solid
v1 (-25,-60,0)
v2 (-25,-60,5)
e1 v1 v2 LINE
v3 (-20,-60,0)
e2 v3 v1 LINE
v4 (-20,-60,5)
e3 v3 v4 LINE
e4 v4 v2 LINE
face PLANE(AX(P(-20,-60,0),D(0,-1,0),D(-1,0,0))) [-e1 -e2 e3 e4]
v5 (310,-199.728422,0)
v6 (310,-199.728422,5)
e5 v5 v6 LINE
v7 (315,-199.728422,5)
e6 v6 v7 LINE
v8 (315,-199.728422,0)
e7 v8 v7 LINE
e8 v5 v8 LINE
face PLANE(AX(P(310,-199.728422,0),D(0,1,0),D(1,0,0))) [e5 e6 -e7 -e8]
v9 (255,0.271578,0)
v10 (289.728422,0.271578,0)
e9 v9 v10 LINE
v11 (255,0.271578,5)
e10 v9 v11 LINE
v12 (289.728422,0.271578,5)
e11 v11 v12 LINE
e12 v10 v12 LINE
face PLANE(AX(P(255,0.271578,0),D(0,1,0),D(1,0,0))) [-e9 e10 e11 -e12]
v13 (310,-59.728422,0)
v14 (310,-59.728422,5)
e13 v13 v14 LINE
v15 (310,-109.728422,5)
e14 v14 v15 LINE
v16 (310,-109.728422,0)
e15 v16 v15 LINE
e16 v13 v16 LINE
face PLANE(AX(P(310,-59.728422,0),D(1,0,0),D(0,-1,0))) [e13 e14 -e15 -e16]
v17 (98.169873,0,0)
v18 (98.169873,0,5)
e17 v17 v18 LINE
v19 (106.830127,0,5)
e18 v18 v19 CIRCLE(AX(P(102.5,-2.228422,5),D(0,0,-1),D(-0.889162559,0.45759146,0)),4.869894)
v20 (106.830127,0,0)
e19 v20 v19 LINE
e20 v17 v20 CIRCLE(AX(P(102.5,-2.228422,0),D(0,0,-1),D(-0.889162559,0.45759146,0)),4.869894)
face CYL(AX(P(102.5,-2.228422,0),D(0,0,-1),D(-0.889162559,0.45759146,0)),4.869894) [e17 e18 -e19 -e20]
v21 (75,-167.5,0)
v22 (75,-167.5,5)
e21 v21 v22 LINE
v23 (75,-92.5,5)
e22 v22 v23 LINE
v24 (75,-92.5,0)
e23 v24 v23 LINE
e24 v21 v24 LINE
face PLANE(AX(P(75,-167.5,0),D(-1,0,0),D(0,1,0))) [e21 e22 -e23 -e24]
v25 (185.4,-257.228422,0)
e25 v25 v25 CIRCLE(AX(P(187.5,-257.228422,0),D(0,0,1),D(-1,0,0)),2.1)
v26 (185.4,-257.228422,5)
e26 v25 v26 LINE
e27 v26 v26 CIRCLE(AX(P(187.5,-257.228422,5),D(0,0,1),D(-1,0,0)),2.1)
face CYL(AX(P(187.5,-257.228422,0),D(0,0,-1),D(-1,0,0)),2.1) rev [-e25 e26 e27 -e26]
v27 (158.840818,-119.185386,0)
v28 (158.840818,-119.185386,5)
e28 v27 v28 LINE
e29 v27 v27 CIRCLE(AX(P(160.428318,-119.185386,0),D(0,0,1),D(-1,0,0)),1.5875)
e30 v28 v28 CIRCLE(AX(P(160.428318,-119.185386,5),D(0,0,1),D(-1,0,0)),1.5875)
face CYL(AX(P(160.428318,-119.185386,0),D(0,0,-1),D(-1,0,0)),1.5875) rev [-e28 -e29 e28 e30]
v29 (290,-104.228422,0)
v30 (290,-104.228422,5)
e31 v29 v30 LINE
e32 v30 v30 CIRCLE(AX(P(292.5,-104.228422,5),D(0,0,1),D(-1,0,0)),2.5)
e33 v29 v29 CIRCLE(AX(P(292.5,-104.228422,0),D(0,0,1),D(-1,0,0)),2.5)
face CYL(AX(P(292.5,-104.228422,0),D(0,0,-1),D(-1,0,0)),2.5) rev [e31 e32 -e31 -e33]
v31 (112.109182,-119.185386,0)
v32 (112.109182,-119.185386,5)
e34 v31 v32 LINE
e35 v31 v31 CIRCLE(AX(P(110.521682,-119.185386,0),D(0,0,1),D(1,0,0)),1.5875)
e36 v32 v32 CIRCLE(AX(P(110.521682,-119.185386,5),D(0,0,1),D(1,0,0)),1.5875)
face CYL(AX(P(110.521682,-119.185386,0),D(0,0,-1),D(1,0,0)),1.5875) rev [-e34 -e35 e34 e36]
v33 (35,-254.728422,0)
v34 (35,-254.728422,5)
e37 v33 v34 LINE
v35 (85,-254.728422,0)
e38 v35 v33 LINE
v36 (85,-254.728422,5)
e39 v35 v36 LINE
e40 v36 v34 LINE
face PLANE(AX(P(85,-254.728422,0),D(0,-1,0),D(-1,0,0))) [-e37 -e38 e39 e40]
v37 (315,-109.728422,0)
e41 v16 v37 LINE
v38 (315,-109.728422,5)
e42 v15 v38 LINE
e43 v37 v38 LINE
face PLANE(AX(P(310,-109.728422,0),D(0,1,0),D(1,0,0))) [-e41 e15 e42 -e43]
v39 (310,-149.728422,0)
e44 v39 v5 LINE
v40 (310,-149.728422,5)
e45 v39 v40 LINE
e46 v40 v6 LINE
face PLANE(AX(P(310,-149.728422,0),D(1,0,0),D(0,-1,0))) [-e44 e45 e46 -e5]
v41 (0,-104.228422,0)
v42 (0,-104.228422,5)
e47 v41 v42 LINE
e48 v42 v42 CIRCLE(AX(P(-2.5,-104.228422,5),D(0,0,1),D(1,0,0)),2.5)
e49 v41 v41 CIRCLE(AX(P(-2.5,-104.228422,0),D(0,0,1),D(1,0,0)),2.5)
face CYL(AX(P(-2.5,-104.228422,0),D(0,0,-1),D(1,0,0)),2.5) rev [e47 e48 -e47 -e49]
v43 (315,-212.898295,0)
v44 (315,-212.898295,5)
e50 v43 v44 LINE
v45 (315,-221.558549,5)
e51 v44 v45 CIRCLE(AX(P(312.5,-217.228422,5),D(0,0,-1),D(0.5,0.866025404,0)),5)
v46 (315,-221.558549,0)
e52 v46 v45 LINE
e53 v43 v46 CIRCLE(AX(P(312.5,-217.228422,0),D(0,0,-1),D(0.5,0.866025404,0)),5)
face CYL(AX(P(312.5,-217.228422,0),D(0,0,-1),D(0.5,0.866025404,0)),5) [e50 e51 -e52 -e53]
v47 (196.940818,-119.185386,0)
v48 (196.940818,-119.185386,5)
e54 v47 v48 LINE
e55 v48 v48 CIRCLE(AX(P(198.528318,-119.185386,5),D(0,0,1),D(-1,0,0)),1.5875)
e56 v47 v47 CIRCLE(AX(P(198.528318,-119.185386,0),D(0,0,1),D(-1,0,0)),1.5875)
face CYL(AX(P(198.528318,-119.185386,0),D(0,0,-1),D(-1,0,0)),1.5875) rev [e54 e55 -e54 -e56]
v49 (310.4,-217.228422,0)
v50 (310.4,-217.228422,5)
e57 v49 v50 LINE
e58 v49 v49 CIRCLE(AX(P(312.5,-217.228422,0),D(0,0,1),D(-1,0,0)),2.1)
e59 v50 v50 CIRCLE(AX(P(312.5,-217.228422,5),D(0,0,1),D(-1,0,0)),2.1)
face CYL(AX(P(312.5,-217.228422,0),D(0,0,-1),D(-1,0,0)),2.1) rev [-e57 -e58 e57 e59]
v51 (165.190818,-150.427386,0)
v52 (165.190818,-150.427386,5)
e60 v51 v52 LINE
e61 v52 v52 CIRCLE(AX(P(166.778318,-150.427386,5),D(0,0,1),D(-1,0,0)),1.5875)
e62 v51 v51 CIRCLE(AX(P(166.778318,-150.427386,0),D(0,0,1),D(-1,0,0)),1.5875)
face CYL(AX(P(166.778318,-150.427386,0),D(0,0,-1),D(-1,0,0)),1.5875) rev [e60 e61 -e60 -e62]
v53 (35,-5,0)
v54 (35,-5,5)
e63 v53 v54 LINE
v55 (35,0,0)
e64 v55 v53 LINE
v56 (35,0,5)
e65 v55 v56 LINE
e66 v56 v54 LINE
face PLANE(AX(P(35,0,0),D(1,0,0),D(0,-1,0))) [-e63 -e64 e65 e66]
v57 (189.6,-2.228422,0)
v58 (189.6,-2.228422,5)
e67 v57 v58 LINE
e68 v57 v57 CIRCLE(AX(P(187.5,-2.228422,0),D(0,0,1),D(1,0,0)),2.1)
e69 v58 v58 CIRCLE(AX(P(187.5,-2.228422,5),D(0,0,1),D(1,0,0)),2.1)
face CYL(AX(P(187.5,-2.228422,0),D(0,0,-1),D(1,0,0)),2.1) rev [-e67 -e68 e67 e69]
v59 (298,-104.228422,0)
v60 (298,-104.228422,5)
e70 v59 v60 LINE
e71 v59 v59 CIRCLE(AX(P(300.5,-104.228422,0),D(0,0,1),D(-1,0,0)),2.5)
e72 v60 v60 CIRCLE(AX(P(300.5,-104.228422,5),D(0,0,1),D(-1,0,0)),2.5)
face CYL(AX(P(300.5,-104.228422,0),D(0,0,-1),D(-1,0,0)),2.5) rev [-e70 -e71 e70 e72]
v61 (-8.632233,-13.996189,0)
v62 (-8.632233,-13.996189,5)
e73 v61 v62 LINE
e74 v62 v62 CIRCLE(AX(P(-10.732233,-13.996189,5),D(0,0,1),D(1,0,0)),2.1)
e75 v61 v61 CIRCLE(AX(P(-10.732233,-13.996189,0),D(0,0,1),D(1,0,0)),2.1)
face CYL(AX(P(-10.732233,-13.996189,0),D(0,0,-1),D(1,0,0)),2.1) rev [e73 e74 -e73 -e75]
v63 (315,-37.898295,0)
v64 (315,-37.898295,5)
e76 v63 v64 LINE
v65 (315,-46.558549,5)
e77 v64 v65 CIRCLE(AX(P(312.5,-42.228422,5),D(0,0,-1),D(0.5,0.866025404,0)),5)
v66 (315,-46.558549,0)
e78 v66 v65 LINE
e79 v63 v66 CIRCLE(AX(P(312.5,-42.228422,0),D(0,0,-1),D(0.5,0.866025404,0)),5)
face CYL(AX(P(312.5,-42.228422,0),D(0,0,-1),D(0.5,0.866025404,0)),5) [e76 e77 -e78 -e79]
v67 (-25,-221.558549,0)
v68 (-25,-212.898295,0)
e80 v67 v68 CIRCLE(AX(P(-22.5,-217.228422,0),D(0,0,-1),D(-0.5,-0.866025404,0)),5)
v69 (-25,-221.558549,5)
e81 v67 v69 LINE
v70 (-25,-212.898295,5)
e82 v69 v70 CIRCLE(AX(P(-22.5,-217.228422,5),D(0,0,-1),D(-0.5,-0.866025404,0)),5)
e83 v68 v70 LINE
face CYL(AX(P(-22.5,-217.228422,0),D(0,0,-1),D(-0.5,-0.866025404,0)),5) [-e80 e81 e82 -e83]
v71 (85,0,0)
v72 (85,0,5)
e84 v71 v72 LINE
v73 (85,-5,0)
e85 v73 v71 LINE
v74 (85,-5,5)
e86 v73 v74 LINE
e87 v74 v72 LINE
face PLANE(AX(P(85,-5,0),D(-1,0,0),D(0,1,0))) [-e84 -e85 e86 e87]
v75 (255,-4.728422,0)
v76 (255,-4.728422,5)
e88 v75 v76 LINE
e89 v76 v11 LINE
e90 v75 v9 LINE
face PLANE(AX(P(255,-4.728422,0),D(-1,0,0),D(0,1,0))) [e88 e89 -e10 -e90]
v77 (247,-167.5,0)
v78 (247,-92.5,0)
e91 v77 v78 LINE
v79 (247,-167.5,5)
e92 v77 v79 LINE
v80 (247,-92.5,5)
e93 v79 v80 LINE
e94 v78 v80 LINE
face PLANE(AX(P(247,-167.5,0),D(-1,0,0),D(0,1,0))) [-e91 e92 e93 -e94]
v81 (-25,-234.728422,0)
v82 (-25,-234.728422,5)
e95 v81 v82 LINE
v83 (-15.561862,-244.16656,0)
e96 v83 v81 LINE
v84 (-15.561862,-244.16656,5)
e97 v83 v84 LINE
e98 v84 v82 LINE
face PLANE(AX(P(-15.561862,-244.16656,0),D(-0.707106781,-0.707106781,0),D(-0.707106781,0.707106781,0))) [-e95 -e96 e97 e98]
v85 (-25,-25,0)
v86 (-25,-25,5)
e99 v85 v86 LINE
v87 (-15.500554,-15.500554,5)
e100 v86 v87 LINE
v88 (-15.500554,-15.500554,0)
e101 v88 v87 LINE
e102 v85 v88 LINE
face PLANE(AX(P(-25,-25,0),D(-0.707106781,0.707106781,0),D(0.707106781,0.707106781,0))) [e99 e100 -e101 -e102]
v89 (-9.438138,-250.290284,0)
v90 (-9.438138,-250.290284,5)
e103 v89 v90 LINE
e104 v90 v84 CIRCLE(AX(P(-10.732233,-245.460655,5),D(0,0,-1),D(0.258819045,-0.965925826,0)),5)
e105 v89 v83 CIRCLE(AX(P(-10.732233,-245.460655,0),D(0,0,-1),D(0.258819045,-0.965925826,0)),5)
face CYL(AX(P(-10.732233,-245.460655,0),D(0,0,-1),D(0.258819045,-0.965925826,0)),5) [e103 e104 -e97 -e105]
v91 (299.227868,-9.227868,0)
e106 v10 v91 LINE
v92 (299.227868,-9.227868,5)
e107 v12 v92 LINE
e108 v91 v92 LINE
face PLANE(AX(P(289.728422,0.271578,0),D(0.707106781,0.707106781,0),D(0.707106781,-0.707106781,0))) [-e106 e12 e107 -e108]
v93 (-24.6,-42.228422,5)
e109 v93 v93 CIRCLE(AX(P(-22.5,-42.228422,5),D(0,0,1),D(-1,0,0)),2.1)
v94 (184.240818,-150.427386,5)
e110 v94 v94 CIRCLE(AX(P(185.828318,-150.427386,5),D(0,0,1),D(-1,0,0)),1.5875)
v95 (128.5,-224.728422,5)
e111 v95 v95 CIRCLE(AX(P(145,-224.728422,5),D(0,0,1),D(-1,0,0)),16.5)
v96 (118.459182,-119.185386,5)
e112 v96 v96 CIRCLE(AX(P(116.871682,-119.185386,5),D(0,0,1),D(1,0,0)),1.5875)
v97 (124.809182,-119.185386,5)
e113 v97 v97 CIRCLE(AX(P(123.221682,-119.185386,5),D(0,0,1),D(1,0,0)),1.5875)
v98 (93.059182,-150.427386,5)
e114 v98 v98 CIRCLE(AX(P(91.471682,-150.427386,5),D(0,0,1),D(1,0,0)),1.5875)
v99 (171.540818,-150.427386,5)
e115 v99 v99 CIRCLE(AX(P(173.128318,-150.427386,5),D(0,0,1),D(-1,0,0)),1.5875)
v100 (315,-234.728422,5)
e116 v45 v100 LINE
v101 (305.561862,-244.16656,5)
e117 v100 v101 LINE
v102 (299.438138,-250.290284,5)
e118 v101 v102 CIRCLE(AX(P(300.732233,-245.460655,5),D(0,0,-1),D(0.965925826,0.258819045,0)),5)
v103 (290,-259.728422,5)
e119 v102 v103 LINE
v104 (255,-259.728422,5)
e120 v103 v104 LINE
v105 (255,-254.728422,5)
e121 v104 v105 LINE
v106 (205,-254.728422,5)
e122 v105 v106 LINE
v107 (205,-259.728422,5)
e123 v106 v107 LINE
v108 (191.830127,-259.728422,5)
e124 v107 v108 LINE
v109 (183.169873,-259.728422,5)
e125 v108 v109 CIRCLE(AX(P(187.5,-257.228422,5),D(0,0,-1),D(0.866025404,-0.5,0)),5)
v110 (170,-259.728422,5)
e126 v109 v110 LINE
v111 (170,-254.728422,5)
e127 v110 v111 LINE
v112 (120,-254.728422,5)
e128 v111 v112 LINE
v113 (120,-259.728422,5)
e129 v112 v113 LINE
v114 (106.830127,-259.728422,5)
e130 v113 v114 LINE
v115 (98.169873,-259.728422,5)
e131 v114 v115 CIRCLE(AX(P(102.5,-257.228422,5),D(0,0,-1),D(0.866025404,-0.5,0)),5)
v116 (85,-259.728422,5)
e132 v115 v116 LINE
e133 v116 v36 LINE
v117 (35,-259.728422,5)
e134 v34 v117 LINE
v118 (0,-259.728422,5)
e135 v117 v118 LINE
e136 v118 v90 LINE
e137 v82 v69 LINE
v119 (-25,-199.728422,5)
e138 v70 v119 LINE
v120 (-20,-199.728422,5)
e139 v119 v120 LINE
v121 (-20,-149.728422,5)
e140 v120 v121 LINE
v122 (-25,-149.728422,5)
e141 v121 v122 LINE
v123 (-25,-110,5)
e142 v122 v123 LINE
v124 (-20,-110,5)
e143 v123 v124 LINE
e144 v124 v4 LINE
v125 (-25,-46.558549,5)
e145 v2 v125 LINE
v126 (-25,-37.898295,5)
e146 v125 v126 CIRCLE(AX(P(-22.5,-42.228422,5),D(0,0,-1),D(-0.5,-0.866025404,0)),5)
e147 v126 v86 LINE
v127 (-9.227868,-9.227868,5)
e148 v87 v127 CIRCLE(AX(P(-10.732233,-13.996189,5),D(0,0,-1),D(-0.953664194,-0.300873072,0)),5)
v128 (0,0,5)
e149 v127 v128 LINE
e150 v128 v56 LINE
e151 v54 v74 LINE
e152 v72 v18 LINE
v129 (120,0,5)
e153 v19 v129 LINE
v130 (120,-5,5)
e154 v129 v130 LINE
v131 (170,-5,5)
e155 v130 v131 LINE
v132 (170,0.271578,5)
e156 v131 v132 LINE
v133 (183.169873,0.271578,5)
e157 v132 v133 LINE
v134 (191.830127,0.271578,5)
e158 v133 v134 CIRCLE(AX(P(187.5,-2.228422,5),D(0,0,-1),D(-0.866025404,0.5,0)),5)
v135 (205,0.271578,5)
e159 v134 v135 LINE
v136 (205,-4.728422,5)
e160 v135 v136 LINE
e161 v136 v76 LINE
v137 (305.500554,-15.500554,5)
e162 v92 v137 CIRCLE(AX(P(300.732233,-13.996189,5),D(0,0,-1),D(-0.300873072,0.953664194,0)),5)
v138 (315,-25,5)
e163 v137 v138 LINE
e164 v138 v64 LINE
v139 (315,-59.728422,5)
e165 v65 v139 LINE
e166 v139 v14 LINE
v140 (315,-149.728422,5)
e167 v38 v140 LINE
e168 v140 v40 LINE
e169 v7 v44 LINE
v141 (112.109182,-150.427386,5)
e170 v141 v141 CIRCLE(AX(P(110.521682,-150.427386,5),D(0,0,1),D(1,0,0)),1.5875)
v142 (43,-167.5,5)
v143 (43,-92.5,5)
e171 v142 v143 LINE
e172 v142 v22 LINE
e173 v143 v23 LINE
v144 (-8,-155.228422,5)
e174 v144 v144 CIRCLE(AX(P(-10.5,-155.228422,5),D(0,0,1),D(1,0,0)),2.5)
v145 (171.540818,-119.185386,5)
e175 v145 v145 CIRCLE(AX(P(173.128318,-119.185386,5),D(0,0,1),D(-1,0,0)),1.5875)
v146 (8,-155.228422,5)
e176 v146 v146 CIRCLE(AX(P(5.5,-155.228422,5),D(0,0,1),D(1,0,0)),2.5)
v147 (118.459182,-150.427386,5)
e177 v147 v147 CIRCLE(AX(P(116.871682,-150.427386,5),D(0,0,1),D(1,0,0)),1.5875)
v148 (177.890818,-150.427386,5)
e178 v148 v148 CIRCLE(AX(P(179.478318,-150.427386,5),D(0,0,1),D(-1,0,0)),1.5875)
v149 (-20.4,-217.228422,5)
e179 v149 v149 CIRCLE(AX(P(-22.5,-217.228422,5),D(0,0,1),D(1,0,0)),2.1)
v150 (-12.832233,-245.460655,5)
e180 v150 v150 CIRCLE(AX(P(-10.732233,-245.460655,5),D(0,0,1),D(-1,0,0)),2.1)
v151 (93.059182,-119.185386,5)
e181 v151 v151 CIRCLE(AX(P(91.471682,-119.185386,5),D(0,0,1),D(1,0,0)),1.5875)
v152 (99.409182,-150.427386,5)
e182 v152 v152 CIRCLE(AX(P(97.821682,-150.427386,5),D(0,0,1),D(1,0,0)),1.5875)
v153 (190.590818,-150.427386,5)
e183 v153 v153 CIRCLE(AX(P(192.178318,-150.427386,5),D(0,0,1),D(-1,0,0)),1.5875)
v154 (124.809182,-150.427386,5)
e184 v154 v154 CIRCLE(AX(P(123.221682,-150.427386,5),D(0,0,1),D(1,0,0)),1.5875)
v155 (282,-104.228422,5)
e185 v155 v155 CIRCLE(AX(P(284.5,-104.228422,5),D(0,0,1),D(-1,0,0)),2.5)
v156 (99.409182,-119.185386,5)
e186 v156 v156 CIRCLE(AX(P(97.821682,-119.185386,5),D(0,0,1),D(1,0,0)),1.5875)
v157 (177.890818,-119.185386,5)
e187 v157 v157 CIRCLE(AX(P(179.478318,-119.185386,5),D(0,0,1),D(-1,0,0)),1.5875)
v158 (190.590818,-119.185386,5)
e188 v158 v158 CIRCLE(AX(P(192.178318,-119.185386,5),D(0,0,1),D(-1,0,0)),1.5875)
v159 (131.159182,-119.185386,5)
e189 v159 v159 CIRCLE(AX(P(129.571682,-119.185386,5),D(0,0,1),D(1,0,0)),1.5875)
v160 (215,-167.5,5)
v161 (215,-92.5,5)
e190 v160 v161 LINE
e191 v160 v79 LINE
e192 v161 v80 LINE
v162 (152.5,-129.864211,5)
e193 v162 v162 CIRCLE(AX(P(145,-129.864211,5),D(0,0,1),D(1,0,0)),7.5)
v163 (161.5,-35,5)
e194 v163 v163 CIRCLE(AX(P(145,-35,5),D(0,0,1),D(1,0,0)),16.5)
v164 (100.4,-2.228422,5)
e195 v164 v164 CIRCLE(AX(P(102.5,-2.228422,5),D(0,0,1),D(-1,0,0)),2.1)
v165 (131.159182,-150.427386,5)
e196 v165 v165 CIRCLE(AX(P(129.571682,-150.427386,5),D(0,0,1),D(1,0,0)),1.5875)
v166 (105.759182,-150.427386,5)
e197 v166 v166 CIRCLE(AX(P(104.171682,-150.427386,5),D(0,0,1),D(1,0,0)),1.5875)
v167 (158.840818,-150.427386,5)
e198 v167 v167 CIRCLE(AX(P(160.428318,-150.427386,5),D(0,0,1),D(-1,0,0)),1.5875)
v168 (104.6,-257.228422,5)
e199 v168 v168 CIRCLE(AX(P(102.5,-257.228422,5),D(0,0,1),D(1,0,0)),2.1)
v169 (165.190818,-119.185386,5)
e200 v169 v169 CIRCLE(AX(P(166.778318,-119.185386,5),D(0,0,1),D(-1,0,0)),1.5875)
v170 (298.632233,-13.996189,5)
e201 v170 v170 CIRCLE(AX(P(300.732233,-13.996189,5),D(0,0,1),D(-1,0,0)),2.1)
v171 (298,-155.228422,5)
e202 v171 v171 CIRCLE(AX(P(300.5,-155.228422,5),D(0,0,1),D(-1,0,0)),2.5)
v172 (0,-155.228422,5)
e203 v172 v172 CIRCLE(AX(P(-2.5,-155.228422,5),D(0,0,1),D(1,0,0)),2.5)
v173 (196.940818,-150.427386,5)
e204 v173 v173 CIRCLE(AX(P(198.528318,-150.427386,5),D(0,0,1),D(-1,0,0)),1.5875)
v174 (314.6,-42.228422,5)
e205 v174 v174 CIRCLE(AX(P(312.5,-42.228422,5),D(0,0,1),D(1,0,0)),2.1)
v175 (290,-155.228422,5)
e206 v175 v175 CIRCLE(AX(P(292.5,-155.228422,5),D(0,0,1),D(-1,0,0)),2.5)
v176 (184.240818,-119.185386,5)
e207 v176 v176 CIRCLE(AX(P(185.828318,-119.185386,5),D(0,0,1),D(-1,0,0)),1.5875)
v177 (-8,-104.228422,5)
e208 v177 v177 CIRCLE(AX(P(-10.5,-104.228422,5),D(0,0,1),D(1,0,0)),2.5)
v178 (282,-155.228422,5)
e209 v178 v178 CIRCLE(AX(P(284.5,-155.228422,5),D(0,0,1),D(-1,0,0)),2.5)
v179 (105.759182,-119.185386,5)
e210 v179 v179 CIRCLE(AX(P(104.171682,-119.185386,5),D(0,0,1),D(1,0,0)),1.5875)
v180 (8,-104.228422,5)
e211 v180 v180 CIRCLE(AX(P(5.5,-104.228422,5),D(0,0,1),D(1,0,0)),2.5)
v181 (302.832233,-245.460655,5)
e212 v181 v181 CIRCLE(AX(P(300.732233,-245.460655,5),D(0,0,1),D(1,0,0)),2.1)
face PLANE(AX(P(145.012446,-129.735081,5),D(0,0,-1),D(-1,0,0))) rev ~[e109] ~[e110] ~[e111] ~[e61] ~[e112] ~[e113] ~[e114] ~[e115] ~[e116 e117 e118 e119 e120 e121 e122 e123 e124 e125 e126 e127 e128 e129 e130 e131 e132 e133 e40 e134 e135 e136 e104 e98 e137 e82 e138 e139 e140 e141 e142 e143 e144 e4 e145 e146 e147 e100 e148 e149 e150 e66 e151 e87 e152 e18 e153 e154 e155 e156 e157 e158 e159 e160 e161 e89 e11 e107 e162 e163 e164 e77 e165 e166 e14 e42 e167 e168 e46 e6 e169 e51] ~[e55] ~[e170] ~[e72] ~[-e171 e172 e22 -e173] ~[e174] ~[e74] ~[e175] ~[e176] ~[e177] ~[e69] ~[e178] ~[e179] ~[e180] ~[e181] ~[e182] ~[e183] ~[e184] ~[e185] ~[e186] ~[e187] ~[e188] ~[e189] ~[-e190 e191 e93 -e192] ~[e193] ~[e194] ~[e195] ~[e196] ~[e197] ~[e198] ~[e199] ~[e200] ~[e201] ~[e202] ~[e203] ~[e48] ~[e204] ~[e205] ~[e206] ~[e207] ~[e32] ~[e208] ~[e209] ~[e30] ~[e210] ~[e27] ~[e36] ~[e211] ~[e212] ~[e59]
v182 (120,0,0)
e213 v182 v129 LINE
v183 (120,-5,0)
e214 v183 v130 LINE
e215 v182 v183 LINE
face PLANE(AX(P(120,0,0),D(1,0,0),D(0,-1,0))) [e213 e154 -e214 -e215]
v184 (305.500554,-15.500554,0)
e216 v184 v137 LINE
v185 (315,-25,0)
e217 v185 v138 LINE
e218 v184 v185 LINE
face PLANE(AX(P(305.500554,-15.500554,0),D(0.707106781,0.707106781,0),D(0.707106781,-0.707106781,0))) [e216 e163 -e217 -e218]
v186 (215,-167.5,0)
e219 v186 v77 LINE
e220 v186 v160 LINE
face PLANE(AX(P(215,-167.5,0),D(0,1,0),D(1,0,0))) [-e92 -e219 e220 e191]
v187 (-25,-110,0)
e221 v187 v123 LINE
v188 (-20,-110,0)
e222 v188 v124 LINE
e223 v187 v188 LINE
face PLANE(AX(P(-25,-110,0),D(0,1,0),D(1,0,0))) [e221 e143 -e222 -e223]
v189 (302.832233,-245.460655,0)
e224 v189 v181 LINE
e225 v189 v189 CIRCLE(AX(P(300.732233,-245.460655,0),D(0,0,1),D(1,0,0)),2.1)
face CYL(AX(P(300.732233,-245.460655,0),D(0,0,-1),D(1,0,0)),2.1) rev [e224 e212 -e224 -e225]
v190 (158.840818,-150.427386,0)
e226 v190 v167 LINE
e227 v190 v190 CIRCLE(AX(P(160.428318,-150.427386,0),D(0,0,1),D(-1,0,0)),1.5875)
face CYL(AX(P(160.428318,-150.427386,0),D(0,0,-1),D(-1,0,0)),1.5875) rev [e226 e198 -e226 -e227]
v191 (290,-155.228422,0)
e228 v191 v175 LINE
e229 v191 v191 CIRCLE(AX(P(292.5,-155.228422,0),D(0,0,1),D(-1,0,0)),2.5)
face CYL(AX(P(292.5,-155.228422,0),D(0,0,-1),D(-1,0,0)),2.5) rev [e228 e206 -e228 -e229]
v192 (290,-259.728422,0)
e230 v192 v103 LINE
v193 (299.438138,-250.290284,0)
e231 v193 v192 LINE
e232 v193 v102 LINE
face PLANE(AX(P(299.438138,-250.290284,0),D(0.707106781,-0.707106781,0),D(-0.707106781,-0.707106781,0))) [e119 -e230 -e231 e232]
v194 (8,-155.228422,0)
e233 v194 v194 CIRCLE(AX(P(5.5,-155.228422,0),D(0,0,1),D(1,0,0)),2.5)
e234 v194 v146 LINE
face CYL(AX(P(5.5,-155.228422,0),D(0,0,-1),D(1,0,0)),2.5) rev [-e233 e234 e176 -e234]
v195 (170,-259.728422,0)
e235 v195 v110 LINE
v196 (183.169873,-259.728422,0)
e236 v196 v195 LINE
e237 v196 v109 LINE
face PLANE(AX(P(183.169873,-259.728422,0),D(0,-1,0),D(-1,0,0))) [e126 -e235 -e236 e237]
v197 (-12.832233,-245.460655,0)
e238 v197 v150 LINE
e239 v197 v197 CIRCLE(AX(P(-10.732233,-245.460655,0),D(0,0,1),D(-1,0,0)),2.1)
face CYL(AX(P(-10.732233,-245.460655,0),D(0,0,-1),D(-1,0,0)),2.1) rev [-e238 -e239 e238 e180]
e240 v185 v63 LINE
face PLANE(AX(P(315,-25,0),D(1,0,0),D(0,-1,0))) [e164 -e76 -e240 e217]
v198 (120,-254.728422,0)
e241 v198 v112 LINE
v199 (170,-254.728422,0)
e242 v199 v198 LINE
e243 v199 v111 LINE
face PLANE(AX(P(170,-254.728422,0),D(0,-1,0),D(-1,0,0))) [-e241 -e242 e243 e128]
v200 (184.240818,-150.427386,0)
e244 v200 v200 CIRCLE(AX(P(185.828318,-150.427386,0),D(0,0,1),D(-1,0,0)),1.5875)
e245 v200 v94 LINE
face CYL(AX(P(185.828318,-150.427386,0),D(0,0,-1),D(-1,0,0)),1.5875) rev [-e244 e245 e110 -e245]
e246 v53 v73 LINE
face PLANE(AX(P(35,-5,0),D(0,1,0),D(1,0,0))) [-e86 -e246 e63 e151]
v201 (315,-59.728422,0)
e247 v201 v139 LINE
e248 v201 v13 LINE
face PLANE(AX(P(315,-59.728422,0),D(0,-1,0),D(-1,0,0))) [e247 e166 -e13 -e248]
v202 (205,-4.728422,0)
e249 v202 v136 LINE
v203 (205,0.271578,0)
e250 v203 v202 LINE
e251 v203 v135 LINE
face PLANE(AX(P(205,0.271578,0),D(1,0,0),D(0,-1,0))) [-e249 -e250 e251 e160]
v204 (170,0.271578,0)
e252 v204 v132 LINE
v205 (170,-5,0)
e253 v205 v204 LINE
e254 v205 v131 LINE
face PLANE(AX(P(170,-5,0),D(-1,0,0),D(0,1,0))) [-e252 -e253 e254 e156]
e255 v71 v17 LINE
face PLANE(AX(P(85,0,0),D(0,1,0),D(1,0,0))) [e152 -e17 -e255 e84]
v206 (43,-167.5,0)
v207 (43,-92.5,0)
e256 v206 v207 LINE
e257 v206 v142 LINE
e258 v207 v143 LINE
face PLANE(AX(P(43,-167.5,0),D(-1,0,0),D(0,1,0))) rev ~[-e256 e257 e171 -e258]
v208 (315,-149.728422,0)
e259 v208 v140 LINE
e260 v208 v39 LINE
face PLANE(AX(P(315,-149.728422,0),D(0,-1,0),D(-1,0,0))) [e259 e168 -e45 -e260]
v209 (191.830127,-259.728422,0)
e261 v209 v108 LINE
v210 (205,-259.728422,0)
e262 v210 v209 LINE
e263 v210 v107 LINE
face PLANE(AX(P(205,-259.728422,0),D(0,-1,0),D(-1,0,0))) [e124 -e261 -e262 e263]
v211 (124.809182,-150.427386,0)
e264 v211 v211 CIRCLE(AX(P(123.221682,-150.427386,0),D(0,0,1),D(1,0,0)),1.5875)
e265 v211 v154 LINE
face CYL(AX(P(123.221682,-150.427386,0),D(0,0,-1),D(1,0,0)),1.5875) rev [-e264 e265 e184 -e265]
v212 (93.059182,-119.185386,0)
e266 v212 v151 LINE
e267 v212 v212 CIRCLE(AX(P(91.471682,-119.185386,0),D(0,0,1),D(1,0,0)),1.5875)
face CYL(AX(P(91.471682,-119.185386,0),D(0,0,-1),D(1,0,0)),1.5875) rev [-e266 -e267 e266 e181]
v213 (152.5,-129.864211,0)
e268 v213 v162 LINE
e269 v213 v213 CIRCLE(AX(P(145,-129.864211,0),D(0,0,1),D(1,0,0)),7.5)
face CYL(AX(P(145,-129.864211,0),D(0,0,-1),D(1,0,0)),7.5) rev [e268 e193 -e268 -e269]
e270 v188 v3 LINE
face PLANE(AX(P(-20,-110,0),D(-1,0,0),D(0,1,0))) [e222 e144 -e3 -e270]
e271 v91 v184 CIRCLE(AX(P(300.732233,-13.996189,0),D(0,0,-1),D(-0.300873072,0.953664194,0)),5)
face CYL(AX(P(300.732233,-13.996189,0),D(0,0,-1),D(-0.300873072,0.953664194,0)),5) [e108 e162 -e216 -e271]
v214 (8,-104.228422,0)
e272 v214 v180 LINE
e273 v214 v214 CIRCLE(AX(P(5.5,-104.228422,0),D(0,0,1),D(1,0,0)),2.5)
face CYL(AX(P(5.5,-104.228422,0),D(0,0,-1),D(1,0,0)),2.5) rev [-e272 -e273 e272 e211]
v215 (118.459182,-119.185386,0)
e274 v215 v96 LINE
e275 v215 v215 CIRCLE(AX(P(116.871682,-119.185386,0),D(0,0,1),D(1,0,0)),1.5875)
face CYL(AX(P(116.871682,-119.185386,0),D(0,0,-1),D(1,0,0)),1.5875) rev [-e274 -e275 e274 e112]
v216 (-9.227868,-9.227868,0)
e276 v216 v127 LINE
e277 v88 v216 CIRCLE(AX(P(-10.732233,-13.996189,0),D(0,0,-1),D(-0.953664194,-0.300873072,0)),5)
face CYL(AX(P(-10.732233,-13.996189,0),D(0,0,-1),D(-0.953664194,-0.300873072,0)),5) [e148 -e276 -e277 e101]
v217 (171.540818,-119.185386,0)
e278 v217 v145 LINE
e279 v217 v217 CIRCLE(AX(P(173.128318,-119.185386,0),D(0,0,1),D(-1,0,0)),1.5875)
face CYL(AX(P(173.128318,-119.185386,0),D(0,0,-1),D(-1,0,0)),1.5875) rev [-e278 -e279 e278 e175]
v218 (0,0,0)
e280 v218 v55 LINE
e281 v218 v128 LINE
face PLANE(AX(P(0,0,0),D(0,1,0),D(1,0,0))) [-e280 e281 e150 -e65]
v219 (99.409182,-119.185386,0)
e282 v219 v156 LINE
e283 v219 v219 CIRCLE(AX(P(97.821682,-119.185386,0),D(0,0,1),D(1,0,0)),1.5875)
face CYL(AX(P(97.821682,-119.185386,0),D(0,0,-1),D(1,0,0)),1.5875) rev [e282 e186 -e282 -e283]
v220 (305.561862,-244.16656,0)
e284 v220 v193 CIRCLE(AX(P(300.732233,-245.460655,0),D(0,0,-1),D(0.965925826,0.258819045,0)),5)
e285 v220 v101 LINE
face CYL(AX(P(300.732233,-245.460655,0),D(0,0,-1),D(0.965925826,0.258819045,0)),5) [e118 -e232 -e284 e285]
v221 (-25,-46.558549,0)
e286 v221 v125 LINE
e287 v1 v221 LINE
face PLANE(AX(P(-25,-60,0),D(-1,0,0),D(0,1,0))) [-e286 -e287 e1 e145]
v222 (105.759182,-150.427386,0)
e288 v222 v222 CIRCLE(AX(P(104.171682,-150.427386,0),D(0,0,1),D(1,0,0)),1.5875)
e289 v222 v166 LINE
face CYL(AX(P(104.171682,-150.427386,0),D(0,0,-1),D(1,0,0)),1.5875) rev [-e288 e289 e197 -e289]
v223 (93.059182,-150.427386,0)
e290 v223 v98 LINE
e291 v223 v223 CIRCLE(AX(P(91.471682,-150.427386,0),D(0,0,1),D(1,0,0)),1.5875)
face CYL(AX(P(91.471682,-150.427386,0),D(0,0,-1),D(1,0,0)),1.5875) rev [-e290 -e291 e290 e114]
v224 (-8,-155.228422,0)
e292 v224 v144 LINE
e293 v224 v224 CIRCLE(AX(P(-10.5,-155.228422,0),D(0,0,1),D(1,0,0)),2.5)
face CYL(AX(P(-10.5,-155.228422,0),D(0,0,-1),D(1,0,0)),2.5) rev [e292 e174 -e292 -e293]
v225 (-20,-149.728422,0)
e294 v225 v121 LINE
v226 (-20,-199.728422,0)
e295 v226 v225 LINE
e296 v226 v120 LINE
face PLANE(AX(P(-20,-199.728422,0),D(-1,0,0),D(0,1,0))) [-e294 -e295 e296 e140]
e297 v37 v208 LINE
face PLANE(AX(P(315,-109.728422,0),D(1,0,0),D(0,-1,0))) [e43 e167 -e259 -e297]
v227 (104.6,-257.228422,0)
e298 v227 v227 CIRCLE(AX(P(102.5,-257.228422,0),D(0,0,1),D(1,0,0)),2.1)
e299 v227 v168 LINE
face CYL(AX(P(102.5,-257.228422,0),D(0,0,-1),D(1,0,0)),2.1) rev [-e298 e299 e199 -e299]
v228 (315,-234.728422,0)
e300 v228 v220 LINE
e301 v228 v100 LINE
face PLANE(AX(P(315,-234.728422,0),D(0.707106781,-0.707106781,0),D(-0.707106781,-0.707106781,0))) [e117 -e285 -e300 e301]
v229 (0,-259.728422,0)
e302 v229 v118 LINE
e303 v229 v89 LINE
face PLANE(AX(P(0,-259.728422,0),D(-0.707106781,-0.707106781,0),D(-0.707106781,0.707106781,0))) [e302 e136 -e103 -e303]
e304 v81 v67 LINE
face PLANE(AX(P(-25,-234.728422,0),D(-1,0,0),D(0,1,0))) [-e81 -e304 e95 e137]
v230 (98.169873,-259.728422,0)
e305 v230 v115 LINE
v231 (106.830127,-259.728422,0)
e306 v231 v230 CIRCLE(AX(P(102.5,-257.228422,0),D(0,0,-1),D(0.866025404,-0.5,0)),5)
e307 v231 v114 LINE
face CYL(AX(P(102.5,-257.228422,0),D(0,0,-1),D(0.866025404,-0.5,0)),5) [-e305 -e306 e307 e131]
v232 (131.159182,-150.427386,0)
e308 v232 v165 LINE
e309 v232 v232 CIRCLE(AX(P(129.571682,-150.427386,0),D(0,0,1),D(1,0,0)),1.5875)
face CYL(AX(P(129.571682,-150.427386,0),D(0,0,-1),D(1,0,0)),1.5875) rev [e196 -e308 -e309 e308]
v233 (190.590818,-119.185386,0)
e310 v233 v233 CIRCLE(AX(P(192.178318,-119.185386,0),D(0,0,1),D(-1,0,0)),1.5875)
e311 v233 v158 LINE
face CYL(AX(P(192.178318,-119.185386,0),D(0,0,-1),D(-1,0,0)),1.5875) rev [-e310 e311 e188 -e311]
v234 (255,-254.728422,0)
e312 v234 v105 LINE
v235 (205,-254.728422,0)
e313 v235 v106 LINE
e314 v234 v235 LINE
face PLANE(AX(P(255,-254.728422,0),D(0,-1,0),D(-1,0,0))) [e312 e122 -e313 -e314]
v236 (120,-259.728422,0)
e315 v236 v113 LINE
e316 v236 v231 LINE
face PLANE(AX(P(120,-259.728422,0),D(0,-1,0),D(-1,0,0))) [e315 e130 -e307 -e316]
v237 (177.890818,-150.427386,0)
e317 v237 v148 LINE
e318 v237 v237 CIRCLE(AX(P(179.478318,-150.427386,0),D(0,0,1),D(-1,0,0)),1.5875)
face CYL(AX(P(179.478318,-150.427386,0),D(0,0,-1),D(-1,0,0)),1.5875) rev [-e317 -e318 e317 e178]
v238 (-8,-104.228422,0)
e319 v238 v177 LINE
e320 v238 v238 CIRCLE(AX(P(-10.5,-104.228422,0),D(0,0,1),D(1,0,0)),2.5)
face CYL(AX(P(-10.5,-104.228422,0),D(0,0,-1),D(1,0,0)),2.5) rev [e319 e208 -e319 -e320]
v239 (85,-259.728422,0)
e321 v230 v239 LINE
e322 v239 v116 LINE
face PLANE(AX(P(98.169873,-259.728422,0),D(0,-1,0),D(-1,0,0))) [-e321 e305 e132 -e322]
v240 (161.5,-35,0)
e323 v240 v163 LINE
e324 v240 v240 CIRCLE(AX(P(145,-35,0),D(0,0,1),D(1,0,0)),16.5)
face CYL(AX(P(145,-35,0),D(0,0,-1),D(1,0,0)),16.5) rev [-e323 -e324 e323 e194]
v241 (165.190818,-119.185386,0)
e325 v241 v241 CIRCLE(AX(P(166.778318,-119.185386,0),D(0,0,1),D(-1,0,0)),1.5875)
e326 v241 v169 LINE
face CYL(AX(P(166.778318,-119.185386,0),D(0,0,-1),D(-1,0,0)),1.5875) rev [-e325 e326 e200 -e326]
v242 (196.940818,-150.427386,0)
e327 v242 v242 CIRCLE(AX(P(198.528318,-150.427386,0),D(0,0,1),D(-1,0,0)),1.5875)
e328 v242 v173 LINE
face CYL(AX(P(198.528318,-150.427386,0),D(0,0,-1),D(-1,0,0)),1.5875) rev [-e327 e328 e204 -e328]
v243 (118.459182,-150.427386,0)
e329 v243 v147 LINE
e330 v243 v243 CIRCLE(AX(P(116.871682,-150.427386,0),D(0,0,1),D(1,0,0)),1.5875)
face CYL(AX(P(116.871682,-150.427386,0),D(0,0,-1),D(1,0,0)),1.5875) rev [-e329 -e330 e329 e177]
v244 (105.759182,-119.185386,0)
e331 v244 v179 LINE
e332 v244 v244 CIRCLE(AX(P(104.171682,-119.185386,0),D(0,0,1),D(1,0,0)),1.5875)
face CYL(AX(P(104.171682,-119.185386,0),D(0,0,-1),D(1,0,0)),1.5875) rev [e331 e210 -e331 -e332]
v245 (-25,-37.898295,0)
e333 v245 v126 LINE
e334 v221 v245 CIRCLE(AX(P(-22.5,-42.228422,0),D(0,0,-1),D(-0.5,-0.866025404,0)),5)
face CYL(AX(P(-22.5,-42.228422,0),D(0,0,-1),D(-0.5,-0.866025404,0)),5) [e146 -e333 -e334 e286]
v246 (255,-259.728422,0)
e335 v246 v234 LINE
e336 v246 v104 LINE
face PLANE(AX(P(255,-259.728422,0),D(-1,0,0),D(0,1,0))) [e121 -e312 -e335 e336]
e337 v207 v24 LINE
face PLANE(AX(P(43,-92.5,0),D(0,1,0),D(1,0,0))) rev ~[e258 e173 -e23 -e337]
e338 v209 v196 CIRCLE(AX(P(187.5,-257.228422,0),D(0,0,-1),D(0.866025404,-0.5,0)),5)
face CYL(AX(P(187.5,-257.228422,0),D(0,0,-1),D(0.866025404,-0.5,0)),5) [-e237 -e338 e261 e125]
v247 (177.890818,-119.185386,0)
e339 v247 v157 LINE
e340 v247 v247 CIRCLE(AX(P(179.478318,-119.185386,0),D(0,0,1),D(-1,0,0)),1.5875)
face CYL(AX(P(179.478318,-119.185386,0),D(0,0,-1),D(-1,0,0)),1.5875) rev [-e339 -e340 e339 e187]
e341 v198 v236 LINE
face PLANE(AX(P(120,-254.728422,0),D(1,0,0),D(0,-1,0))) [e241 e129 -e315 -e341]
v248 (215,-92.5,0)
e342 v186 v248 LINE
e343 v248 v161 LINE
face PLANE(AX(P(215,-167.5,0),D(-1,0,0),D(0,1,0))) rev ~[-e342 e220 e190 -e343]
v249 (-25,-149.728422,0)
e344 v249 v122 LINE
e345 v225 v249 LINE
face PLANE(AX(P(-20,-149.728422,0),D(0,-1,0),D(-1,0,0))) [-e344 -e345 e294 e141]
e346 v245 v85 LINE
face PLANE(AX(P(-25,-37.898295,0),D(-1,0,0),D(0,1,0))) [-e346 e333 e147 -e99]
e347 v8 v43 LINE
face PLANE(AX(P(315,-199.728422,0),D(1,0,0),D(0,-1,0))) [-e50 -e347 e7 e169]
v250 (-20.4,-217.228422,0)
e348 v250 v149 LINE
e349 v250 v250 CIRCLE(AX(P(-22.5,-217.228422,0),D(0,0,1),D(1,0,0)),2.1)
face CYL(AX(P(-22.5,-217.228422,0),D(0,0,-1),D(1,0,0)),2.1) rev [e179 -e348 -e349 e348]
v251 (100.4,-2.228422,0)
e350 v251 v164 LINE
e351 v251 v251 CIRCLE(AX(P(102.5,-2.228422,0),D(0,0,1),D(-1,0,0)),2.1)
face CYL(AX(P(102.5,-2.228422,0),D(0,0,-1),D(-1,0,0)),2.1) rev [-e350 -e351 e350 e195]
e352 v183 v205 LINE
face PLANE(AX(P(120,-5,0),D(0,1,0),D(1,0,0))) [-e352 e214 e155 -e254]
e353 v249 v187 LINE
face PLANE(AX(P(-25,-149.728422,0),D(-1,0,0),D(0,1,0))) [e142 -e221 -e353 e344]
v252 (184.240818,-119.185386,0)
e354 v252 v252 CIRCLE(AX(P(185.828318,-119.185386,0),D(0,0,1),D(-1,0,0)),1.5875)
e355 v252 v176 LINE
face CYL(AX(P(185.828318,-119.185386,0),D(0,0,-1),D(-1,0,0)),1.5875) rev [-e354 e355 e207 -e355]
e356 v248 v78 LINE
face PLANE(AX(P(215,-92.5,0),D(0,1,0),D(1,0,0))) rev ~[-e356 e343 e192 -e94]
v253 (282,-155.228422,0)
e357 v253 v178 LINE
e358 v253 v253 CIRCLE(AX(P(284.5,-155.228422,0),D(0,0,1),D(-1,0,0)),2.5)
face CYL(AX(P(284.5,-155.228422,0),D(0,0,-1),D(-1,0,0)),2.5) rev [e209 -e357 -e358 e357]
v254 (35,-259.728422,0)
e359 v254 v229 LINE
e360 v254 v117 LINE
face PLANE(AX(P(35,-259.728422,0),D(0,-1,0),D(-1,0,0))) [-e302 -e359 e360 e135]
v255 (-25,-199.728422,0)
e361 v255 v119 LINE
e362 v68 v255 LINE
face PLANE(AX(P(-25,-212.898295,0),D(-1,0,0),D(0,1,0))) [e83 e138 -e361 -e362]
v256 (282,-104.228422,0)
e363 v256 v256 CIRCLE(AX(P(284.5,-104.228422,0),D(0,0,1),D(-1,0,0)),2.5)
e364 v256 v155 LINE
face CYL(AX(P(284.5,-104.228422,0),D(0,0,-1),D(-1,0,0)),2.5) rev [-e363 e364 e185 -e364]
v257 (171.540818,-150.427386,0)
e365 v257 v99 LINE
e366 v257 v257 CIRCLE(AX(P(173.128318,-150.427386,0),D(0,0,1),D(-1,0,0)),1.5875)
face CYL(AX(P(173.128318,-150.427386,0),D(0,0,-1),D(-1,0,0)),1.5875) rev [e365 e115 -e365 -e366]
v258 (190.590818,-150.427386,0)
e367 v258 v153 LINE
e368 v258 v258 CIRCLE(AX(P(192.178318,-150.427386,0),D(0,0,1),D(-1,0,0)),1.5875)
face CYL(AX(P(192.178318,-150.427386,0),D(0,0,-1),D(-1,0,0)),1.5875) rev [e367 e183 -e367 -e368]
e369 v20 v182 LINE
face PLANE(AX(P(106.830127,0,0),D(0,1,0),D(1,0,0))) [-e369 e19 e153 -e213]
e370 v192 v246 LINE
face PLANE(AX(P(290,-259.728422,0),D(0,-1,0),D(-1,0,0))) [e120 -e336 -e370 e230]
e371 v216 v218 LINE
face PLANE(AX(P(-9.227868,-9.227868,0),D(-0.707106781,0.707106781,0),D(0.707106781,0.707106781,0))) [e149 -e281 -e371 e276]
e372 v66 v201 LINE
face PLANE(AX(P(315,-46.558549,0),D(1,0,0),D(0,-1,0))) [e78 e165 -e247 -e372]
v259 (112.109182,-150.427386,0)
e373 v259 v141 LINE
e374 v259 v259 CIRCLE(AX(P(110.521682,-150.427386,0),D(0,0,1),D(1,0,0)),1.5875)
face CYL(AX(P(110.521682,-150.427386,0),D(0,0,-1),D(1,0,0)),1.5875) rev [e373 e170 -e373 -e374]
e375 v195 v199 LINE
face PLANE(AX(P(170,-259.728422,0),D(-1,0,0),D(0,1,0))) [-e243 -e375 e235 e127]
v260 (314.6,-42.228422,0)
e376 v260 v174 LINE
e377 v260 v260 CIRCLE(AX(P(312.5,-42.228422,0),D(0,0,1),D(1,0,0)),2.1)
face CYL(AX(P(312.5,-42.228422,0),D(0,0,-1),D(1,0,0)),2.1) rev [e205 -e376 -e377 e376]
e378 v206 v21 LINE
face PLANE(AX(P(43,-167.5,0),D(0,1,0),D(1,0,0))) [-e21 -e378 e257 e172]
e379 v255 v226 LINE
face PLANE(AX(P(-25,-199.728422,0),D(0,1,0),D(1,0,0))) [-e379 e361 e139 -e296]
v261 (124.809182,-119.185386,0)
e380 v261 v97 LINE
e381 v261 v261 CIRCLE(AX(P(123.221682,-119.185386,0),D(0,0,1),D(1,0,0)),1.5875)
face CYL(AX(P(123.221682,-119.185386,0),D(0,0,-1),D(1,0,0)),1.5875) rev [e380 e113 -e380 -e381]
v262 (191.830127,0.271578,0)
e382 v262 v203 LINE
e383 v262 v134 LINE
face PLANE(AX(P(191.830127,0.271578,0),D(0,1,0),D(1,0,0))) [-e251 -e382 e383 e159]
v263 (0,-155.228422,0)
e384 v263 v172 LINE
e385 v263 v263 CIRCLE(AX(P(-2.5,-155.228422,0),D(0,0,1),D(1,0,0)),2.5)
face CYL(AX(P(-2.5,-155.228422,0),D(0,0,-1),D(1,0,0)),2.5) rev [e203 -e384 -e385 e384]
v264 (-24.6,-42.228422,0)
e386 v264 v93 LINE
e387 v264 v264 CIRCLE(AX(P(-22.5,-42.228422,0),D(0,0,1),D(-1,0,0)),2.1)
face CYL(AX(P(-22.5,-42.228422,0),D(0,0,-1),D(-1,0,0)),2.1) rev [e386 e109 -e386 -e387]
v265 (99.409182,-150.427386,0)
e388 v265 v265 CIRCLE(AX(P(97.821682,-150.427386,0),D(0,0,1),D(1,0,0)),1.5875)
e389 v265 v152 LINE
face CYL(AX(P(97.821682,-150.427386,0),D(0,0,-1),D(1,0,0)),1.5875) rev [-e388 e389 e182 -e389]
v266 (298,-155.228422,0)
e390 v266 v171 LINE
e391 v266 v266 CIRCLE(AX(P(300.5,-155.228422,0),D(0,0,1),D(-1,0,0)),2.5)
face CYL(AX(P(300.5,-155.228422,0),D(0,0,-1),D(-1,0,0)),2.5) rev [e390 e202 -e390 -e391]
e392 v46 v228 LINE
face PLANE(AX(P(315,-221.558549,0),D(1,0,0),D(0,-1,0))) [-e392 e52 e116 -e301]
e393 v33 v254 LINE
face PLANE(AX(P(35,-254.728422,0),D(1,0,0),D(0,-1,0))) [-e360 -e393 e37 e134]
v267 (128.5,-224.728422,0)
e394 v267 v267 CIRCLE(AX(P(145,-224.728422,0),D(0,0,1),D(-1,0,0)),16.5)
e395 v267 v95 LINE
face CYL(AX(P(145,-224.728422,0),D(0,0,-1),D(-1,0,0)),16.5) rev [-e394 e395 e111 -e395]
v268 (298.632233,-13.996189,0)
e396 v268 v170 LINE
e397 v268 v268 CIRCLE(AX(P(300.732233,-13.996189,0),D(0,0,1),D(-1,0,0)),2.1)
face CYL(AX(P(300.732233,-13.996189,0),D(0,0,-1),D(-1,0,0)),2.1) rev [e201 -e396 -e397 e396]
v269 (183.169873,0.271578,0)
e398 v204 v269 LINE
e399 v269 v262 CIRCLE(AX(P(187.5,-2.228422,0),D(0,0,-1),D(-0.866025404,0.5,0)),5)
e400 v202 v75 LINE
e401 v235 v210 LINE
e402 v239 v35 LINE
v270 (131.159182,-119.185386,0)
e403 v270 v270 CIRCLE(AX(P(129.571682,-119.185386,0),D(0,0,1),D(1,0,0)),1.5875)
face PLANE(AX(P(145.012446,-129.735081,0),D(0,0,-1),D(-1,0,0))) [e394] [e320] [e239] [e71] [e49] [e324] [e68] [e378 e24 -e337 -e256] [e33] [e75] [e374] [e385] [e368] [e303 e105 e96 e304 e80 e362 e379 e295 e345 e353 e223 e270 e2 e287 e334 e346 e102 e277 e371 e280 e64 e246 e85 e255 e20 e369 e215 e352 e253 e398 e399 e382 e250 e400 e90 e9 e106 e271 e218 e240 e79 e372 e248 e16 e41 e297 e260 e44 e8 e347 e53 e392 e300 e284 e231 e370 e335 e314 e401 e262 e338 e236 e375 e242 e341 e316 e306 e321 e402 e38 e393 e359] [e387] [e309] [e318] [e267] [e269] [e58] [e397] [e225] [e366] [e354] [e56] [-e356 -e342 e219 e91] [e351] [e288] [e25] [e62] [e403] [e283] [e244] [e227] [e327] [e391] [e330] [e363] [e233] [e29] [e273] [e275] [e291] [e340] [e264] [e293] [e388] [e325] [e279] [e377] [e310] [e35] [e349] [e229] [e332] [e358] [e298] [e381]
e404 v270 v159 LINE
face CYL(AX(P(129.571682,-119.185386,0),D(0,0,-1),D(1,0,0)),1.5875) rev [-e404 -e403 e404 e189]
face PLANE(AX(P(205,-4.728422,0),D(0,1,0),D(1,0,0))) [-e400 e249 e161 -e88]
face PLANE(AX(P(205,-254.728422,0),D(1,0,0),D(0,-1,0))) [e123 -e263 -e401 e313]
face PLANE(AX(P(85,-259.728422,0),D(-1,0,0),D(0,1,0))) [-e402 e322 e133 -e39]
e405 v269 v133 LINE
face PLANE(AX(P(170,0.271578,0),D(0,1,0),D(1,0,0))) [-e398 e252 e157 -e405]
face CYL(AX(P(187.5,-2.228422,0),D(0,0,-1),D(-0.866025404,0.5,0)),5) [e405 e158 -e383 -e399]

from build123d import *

# Parameters (mm, degrees)
ESQUISSE1_R        = 2.1
ESQUISSE1_R_2      = 2.5
ESQUISSE1_R_3      = 16.5
ESQUISSE1_R_4      = 7.5
ESQUISSE1_R_5      = 1.5875
ESQUISSE1_W        = 32
ESQUISSE1_H        = 75
BOSS_EXTRU_1_DEPTH = 5


with BuildPart() as part:
    # Esquisse1 → Boss.-Extru.1 (new body)
    with BuildSketch(Plane.XY):
        with BuildLine():
            Line((0, 0), (35, 0))
            Line((35, 0), (35, -5))
            Line((35, -5), (85, -5))
            Line((85, -5), (85, 0))
            Line((85, 0), (98.169872981, 0))
            ThreePointArc((98.169872981, 0), (102.5, 2.641471856), (106.830127019, 0))
            Line((106.830127019, 0), (120, 0))
            Line((120, 0), (120, -5))
            Line((120, -5), (170, -5))
            Line((170, -5), (170, 0.271578296))
            Line((170, 0.271578296), (183.169872981, 0.271578296))
            ThreePointArc((183.169872981, 0.271578296), (187.5, 2.771578296), (191.830127019, 0.271578296))
            Line((191.830127019, 0.271578296), (205, 0.271578296))
            Line((205, 0.271578296), (205, -4.728421704))
            Line((205, -4.728421704), (255, -4.728421704))
            Line((255, -4.728421704), (255, 0.271578296))
            Line((255, 0.271578296), (289.728421704, 0.271578296))
            Line((289.728421704, 0.271578296), (299.227867688, -9.227867688))
            ThreePointArc((299.227867688, -9.227867688), (304.267766953, -10.460654751), (305.500554016, -15.500554016))
            Line((305.500554016, -15.500554016), (315, -25))
            Line((315, -25), (315, -37.898294686))
            ThreePointArc((315, -37.898294686), (317.5, -42.228421704), (315, -46.558548723))
            Line((315, -46.558548723), (315, -59.728421704))
            Line((315, -59.728421704), (310, -59.728421704))
            Line((310, -59.728421704), (310, -109.728421704))
            Line((310, -109.728421704), (315, -109.728421704))
            Line((315, -109.728421704), (315, -149.728421704))
            Line((315, -149.728421704), (310, -149.728421704))
            Line((310, -149.728421704), (310, -199.728421704))
            Line((310, -199.728421704), (315, -199.728421704))
            Line((315, -199.728421704), (315, -212.898294686))
            ThreePointArc((315, -212.898294686), (317.5, -217.228421704), (315, -221.558548723))
            Line((315, -221.558548723), (315, -234.728421704))
            Line((315, -234.728421704), (305.561862178, -244.166559526))
            ThreePointArc((305.561862178, -244.166559526), (304.267766953, -248.996188657), (299.438137822, -250.290283883))
            Line((299.438137822, -250.290283883), (290, -259.728421704))
            Line((290, -259.728421704), (255, -259.728421704))
            Line((255, -259.728421704), (255, -254.728421704))
            Line((255, -254.728421704), (205, -254.728421704))
            Line((205, -254.728421704), (205, -259.728421704))
            Line((205, -259.728421704), (191.830127019, -259.728421704))
            ThreePointArc((191.830127019, -259.728421704), (187.5, -262.228421704), (183.169872981, -259.728421704))
            Line((183.169872981, -259.728421704), (170, -259.728421704))
            Line((170, -259.728421704), (170, -254.728421704))
            Line((170, -254.728421704), (120, -254.728421704))
            Line((120, -254.728421704), (120, -259.728421704))
            Line((120, -259.728421704), (106.830127019, -259.728421704))
            ThreePointArc((106.830127019, -259.728421704), (102.5, -262.228421704), (98.169872981, -259.728421704))
            Line((98.169872981, -259.728421704), (85, -259.728421704))
            Line((85, -259.728421704), (85, -254.728421704))
            Line((85, -254.728421704), (35, -254.728421704))
            Line((35, -254.728421704), (35, -259.728421704))
            Line((35, -259.728421704), (0, -259.728421704))
            Line((0, -259.728421704), (-9.438137822, -250.290283883))
            ThreePointArc((-9.438137822, -250.290283883), (-14.267766953, -248.996188657), (-15.561862178, -244.166559526))
            Line((-15.561862178, -244.166559526), (-25, -234.728421704))
            Line((-25, -234.728421704), (-25, -221.558548723))
            ThreePointArc((-25, -221.558548723), (-27.5, -217.228421704), (-25, -212.898294686))
            Line((-25, -212.898294686), (-25, -199.728421704))
            Line((-25, -199.728421704), (-20, -199.728421704))
            Line((-20, -199.728421704), (-20, -149.728421704))
            Line((-20, -149.728421704), (-25, -149.728421704))
            Line((-25, -149.728421704), (-25, -110))
            Line((-25, -110), (-20, -110))
            Line((-20, -110), (-20, -60))
            Line((-20, -60), (-25, -60))
            Line((-25, -60), (-25, -46.558548723))
            ThreePointArc((-25, -46.558548723), (-27.5, -42.228421704), (-25, -37.898294686))
            Line((-25, -37.898294686), (-25, -25))
            Line((-25, -25), (-15.500554016, -15.500554016))
            ThreePointArc((-15.500554016, -15.500554016), (-14.267766953, -10.460654751), (-9.227867688, -9.227867688))
            Line((-9.227867688, -9.227867688), (0, 0))
        make_face()
        with Locations((102.5, -257.228421704)):
            Circle(ESQUISSE1_R, mode=Mode.SUBTRACT)
        with Locations(Location((187.5, -257.228421704, 0), (0, 0, 180))):
            Circle(ESQUISSE1_R, mode=Mode.SUBTRACT)
        with Locations(Location((102.5, -2.228421704, 0), (0, 0, 180))):
            Circle(ESQUISSE1_R, mode=Mode.SUBTRACT)
        with Locations((187.5, -2.228421704)):
            Circle(ESQUISSE1_R, mode=Mode.SUBTRACT)
        with Locations((-10.732233047, -13.996188657)):
            Circle(ESQUISSE1_R, mode=Mode.SUBTRACT)
        with Locations(Location((300.732233047, -13.996188657, 0), (0, 0, 180))):
            Circle(ESQUISSE1_R, mode=Mode.SUBTRACT)
        with Locations((300.732233047, -245.460654751)):
            Circle(ESQUISSE1_R, mode=Mode.SUBTRACT)
        with Locations(Location((-10.732233047, -245.460654751, 0), (0, 0, 180))):
            Circle(ESQUISSE1_R, mode=Mode.SUBTRACT)
        with Locations((-22.5, -217.228421704)):
            Circle(ESQUISSE1_R, mode=Mode.SUBTRACT)
        with Locations(Location((-22.5, -42.228421704, 0), (0, 0, 180))):
            Circle(ESQUISSE1_R, mode=Mode.SUBTRACT)
        with Locations((312.5, -42.228421704)):
            Circle(ESQUISSE1_R, mode=Mode.SUBTRACT)
        with Locations(Location((312.5, -217.228421704, 0), (0, 0, 180))):
            Circle(ESQUISSE1_R, mode=Mode.SUBTRACT)
        with Locations(Location((300.5, -155.228421704, 0), (0, 0, 180))):
            Circle(ESQUISSE1_R_2, mode=Mode.SUBTRACT)
        with Locations(Location((300.5, -104.228421704, 0), (0, 0, 180))):
            Circle(ESQUISSE1_R_2, mode=Mode.SUBTRACT)
        with Locations((145, -35)):
            Circle(ESQUISSE1_R_3, mode=Mode.SUBTRACT)
        with Locations((145, -129.864210852)):
            Circle(ESQUISSE1_R_4, mode=Mode.SUBTRACT)
        with Locations(Location((292.5, -104.228421704, 0), (0, 0, 180))):
            Circle(ESQUISSE1_R_2, mode=Mode.SUBTRACT)
        with Locations(Location((292.5, -155.228421704, 0), (0, 0, 180))):
            Circle(ESQUISSE1_R_2, mode=Mode.SUBTRACT)
        with Locations(Location((284.5, -104.228421704, 0), (0, 0, 180))):
            Circle(ESQUISSE1_R_2, mode=Mode.SUBTRACT)
        with Locations(Location((284.5, -155.228421704, 0), (0, 0, 180))):
            Circle(ESQUISSE1_R_2, mode=Mode.SUBTRACT)
        with Locations((-10.5, -104.228421704)):
            Circle(ESQUISSE1_R_2, mode=Mode.SUBTRACT)
        with Locations((-2.5, -104.228421704)):
            Circle(ESQUISSE1_R_2, mode=Mode.SUBTRACT)
        with Locations((5.5, -104.228421704)):
            Circle(ESQUISSE1_R_2, mode=Mode.SUBTRACT)
        with Locations((-10.5, -155.228421704)):
            Circle(ESQUISSE1_R_2, mode=Mode.SUBTRACT)
        with Locations((-2.5, -155.228421704)):
            Circle(ESQUISSE1_R_2, mode=Mode.SUBTRACT)
        with Locations((5.5, -155.228421704)):
            Circle(ESQUISSE1_R_2, mode=Mode.SUBTRACT)
        with Locations(Location((145, -224.728421704, 0), (0, 0, 180))):
            Circle(ESQUISSE1_R_3, mode=Mode.SUBTRACT)
        with Locations((91.471682341, -119.185385667)):
            Circle(ESQUISSE1_R_5, mode=Mode.SUBTRACT)
        with Locations((104.171682341, -119.185385667)):
            Circle(ESQUISSE1_R_5, mode=Mode.SUBTRACT)
        with Locations((97.821682341, -119.185385667)):
            Circle(ESQUISSE1_R_5, mode=Mode.SUBTRACT)
        with Locations((110.521682341, -119.185385667)):
            Circle(ESQUISSE1_R_5, mode=Mode.SUBTRACT)
        with Locations((116.871682341, -119.185385667)):
            Circle(ESQUISSE1_R_5, mode=Mode.SUBTRACT)
        with Locations((129.571682341, -119.185385667)):
            Circle(ESQUISSE1_R_5, mode=Mode.SUBTRACT)
        with Locations((123.221682341, -119.185385667)):
            Circle(ESQUISSE1_R_5, mode=Mode.SUBTRACT)
        with Locations((129.571682341, -150.427385667)):
            Circle(ESQUISSE1_R_5, mode=Mode.SUBTRACT)
        with Locations((123.221682341, -150.427385667)):
            Circle(ESQUISSE1_R_5, mode=Mode.SUBTRACT)
        with Locations((116.871682341, -150.427385667)):
            Circle(ESQUISSE1_R_5, mode=Mode.SUBTRACT)
        with Locations((110.521682341, -150.427385667)):
            Circle(ESQUISSE1_R_5, mode=Mode.SUBTRACT)
        with Locations((104.171682341, -150.427385667)):
            Circle(ESQUISSE1_R_5, mode=Mode.SUBTRACT)
        with Locations((97.821682341, -150.427385667)):
            Circle(ESQUISSE1_R_5, mode=Mode.SUBTRACT)
        with Locations((91.471682341, -150.427385667)):
            Circle(ESQUISSE1_R_5, mode=Mode.SUBTRACT)
        with Locations(Location((198.528317659, -119.185385667, 0), (0, 0, 180))):
            Circle(ESQUISSE1_R_5, mode=Mode.SUBTRACT)
        with Locations(Location((192.178317659, -119.185385667, 0), (0, 0, 180))):
            Circle(ESQUISSE1_R_5, mode=Mode.SUBTRACT)
        with Locations(Location((185.828317659, -119.185385667, 0), (0, 0, 180))):
            Circle(ESQUISSE1_R_5, mode=Mode.SUBTRACT)
        with Locations(Location((179.478317659, -119.185385667, 0), (0, 0, 180))):
            Circle(ESQUISSE1_R_5, mode=Mode.SUBTRACT)
        with Locations(Location((173.128317659, -119.185385667, 0), (0, 0, 180))):
            Circle(ESQUISSE1_R_5, mode=Mode.SUBTRACT)
        with Locations(Location((166.778317659, -119.185385667, 0), (0, 0, 180))):
            Circle(ESQUISSE1_R_5, mode=Mode.SUBTRACT)
        with Locations(Location((160.428317659, -119.185385667, 0), (0, 0, 180))):
            Circle(ESQUISSE1_R_5, mode=Mode.SUBTRACT)
        with Locations(Location((160.428317659, -150.427385667, 0), (0, 0, 180))):
            Circle(ESQUISSE1_R_5, mode=Mode.SUBTRACT)
        with Locations(Location((166.778317659, -150.427385667, 0), (0, 0, 180))):
            Circle(ESQUISSE1_R_5, mode=Mode.SUBTRACT)
        with Locations(Location((173.128317659, -150.427385667, 0), (0, 0, 180))):
            Circle(ESQUISSE1_R_5, mode=Mode.SUBTRACT)
        with Locations(Location((179.478317659, -150.427385667, 0), (0, 0, 180))):
            Circle(ESQUISSE1_R_5, mode=Mode.SUBTRACT)
        with Locations(Location((185.828317659, -150.427385667, 0), (0, 0, 180))):
            Circle(ESQUISSE1_R_5, mode=Mode.SUBTRACT)
        with Locations(Location((192.178317659, -150.427385667, 0), (0, 0, 180))):
            Circle(ESQUISSE1_R_5, mode=Mode.SUBTRACT)
        with Locations(Location((198.528317659, -150.427385667, 0), (0, 0, 180))):
            Circle(ESQUISSE1_R_5, mode=Mode.SUBTRACT)
        with Locations((231, -130)):
            Rectangle(ESQUISSE1_W, ESQUISSE1_H, mode=Mode.SUBTRACT)
        with Locations((59, -130)):
            Rectangle(ESQUISSE1_W, ESQUISSE1_H, mode=Mode.SUBTRACT)
    extrude(amount=BOSS_EXTRU_1_DEPTH)


solid = part.part
